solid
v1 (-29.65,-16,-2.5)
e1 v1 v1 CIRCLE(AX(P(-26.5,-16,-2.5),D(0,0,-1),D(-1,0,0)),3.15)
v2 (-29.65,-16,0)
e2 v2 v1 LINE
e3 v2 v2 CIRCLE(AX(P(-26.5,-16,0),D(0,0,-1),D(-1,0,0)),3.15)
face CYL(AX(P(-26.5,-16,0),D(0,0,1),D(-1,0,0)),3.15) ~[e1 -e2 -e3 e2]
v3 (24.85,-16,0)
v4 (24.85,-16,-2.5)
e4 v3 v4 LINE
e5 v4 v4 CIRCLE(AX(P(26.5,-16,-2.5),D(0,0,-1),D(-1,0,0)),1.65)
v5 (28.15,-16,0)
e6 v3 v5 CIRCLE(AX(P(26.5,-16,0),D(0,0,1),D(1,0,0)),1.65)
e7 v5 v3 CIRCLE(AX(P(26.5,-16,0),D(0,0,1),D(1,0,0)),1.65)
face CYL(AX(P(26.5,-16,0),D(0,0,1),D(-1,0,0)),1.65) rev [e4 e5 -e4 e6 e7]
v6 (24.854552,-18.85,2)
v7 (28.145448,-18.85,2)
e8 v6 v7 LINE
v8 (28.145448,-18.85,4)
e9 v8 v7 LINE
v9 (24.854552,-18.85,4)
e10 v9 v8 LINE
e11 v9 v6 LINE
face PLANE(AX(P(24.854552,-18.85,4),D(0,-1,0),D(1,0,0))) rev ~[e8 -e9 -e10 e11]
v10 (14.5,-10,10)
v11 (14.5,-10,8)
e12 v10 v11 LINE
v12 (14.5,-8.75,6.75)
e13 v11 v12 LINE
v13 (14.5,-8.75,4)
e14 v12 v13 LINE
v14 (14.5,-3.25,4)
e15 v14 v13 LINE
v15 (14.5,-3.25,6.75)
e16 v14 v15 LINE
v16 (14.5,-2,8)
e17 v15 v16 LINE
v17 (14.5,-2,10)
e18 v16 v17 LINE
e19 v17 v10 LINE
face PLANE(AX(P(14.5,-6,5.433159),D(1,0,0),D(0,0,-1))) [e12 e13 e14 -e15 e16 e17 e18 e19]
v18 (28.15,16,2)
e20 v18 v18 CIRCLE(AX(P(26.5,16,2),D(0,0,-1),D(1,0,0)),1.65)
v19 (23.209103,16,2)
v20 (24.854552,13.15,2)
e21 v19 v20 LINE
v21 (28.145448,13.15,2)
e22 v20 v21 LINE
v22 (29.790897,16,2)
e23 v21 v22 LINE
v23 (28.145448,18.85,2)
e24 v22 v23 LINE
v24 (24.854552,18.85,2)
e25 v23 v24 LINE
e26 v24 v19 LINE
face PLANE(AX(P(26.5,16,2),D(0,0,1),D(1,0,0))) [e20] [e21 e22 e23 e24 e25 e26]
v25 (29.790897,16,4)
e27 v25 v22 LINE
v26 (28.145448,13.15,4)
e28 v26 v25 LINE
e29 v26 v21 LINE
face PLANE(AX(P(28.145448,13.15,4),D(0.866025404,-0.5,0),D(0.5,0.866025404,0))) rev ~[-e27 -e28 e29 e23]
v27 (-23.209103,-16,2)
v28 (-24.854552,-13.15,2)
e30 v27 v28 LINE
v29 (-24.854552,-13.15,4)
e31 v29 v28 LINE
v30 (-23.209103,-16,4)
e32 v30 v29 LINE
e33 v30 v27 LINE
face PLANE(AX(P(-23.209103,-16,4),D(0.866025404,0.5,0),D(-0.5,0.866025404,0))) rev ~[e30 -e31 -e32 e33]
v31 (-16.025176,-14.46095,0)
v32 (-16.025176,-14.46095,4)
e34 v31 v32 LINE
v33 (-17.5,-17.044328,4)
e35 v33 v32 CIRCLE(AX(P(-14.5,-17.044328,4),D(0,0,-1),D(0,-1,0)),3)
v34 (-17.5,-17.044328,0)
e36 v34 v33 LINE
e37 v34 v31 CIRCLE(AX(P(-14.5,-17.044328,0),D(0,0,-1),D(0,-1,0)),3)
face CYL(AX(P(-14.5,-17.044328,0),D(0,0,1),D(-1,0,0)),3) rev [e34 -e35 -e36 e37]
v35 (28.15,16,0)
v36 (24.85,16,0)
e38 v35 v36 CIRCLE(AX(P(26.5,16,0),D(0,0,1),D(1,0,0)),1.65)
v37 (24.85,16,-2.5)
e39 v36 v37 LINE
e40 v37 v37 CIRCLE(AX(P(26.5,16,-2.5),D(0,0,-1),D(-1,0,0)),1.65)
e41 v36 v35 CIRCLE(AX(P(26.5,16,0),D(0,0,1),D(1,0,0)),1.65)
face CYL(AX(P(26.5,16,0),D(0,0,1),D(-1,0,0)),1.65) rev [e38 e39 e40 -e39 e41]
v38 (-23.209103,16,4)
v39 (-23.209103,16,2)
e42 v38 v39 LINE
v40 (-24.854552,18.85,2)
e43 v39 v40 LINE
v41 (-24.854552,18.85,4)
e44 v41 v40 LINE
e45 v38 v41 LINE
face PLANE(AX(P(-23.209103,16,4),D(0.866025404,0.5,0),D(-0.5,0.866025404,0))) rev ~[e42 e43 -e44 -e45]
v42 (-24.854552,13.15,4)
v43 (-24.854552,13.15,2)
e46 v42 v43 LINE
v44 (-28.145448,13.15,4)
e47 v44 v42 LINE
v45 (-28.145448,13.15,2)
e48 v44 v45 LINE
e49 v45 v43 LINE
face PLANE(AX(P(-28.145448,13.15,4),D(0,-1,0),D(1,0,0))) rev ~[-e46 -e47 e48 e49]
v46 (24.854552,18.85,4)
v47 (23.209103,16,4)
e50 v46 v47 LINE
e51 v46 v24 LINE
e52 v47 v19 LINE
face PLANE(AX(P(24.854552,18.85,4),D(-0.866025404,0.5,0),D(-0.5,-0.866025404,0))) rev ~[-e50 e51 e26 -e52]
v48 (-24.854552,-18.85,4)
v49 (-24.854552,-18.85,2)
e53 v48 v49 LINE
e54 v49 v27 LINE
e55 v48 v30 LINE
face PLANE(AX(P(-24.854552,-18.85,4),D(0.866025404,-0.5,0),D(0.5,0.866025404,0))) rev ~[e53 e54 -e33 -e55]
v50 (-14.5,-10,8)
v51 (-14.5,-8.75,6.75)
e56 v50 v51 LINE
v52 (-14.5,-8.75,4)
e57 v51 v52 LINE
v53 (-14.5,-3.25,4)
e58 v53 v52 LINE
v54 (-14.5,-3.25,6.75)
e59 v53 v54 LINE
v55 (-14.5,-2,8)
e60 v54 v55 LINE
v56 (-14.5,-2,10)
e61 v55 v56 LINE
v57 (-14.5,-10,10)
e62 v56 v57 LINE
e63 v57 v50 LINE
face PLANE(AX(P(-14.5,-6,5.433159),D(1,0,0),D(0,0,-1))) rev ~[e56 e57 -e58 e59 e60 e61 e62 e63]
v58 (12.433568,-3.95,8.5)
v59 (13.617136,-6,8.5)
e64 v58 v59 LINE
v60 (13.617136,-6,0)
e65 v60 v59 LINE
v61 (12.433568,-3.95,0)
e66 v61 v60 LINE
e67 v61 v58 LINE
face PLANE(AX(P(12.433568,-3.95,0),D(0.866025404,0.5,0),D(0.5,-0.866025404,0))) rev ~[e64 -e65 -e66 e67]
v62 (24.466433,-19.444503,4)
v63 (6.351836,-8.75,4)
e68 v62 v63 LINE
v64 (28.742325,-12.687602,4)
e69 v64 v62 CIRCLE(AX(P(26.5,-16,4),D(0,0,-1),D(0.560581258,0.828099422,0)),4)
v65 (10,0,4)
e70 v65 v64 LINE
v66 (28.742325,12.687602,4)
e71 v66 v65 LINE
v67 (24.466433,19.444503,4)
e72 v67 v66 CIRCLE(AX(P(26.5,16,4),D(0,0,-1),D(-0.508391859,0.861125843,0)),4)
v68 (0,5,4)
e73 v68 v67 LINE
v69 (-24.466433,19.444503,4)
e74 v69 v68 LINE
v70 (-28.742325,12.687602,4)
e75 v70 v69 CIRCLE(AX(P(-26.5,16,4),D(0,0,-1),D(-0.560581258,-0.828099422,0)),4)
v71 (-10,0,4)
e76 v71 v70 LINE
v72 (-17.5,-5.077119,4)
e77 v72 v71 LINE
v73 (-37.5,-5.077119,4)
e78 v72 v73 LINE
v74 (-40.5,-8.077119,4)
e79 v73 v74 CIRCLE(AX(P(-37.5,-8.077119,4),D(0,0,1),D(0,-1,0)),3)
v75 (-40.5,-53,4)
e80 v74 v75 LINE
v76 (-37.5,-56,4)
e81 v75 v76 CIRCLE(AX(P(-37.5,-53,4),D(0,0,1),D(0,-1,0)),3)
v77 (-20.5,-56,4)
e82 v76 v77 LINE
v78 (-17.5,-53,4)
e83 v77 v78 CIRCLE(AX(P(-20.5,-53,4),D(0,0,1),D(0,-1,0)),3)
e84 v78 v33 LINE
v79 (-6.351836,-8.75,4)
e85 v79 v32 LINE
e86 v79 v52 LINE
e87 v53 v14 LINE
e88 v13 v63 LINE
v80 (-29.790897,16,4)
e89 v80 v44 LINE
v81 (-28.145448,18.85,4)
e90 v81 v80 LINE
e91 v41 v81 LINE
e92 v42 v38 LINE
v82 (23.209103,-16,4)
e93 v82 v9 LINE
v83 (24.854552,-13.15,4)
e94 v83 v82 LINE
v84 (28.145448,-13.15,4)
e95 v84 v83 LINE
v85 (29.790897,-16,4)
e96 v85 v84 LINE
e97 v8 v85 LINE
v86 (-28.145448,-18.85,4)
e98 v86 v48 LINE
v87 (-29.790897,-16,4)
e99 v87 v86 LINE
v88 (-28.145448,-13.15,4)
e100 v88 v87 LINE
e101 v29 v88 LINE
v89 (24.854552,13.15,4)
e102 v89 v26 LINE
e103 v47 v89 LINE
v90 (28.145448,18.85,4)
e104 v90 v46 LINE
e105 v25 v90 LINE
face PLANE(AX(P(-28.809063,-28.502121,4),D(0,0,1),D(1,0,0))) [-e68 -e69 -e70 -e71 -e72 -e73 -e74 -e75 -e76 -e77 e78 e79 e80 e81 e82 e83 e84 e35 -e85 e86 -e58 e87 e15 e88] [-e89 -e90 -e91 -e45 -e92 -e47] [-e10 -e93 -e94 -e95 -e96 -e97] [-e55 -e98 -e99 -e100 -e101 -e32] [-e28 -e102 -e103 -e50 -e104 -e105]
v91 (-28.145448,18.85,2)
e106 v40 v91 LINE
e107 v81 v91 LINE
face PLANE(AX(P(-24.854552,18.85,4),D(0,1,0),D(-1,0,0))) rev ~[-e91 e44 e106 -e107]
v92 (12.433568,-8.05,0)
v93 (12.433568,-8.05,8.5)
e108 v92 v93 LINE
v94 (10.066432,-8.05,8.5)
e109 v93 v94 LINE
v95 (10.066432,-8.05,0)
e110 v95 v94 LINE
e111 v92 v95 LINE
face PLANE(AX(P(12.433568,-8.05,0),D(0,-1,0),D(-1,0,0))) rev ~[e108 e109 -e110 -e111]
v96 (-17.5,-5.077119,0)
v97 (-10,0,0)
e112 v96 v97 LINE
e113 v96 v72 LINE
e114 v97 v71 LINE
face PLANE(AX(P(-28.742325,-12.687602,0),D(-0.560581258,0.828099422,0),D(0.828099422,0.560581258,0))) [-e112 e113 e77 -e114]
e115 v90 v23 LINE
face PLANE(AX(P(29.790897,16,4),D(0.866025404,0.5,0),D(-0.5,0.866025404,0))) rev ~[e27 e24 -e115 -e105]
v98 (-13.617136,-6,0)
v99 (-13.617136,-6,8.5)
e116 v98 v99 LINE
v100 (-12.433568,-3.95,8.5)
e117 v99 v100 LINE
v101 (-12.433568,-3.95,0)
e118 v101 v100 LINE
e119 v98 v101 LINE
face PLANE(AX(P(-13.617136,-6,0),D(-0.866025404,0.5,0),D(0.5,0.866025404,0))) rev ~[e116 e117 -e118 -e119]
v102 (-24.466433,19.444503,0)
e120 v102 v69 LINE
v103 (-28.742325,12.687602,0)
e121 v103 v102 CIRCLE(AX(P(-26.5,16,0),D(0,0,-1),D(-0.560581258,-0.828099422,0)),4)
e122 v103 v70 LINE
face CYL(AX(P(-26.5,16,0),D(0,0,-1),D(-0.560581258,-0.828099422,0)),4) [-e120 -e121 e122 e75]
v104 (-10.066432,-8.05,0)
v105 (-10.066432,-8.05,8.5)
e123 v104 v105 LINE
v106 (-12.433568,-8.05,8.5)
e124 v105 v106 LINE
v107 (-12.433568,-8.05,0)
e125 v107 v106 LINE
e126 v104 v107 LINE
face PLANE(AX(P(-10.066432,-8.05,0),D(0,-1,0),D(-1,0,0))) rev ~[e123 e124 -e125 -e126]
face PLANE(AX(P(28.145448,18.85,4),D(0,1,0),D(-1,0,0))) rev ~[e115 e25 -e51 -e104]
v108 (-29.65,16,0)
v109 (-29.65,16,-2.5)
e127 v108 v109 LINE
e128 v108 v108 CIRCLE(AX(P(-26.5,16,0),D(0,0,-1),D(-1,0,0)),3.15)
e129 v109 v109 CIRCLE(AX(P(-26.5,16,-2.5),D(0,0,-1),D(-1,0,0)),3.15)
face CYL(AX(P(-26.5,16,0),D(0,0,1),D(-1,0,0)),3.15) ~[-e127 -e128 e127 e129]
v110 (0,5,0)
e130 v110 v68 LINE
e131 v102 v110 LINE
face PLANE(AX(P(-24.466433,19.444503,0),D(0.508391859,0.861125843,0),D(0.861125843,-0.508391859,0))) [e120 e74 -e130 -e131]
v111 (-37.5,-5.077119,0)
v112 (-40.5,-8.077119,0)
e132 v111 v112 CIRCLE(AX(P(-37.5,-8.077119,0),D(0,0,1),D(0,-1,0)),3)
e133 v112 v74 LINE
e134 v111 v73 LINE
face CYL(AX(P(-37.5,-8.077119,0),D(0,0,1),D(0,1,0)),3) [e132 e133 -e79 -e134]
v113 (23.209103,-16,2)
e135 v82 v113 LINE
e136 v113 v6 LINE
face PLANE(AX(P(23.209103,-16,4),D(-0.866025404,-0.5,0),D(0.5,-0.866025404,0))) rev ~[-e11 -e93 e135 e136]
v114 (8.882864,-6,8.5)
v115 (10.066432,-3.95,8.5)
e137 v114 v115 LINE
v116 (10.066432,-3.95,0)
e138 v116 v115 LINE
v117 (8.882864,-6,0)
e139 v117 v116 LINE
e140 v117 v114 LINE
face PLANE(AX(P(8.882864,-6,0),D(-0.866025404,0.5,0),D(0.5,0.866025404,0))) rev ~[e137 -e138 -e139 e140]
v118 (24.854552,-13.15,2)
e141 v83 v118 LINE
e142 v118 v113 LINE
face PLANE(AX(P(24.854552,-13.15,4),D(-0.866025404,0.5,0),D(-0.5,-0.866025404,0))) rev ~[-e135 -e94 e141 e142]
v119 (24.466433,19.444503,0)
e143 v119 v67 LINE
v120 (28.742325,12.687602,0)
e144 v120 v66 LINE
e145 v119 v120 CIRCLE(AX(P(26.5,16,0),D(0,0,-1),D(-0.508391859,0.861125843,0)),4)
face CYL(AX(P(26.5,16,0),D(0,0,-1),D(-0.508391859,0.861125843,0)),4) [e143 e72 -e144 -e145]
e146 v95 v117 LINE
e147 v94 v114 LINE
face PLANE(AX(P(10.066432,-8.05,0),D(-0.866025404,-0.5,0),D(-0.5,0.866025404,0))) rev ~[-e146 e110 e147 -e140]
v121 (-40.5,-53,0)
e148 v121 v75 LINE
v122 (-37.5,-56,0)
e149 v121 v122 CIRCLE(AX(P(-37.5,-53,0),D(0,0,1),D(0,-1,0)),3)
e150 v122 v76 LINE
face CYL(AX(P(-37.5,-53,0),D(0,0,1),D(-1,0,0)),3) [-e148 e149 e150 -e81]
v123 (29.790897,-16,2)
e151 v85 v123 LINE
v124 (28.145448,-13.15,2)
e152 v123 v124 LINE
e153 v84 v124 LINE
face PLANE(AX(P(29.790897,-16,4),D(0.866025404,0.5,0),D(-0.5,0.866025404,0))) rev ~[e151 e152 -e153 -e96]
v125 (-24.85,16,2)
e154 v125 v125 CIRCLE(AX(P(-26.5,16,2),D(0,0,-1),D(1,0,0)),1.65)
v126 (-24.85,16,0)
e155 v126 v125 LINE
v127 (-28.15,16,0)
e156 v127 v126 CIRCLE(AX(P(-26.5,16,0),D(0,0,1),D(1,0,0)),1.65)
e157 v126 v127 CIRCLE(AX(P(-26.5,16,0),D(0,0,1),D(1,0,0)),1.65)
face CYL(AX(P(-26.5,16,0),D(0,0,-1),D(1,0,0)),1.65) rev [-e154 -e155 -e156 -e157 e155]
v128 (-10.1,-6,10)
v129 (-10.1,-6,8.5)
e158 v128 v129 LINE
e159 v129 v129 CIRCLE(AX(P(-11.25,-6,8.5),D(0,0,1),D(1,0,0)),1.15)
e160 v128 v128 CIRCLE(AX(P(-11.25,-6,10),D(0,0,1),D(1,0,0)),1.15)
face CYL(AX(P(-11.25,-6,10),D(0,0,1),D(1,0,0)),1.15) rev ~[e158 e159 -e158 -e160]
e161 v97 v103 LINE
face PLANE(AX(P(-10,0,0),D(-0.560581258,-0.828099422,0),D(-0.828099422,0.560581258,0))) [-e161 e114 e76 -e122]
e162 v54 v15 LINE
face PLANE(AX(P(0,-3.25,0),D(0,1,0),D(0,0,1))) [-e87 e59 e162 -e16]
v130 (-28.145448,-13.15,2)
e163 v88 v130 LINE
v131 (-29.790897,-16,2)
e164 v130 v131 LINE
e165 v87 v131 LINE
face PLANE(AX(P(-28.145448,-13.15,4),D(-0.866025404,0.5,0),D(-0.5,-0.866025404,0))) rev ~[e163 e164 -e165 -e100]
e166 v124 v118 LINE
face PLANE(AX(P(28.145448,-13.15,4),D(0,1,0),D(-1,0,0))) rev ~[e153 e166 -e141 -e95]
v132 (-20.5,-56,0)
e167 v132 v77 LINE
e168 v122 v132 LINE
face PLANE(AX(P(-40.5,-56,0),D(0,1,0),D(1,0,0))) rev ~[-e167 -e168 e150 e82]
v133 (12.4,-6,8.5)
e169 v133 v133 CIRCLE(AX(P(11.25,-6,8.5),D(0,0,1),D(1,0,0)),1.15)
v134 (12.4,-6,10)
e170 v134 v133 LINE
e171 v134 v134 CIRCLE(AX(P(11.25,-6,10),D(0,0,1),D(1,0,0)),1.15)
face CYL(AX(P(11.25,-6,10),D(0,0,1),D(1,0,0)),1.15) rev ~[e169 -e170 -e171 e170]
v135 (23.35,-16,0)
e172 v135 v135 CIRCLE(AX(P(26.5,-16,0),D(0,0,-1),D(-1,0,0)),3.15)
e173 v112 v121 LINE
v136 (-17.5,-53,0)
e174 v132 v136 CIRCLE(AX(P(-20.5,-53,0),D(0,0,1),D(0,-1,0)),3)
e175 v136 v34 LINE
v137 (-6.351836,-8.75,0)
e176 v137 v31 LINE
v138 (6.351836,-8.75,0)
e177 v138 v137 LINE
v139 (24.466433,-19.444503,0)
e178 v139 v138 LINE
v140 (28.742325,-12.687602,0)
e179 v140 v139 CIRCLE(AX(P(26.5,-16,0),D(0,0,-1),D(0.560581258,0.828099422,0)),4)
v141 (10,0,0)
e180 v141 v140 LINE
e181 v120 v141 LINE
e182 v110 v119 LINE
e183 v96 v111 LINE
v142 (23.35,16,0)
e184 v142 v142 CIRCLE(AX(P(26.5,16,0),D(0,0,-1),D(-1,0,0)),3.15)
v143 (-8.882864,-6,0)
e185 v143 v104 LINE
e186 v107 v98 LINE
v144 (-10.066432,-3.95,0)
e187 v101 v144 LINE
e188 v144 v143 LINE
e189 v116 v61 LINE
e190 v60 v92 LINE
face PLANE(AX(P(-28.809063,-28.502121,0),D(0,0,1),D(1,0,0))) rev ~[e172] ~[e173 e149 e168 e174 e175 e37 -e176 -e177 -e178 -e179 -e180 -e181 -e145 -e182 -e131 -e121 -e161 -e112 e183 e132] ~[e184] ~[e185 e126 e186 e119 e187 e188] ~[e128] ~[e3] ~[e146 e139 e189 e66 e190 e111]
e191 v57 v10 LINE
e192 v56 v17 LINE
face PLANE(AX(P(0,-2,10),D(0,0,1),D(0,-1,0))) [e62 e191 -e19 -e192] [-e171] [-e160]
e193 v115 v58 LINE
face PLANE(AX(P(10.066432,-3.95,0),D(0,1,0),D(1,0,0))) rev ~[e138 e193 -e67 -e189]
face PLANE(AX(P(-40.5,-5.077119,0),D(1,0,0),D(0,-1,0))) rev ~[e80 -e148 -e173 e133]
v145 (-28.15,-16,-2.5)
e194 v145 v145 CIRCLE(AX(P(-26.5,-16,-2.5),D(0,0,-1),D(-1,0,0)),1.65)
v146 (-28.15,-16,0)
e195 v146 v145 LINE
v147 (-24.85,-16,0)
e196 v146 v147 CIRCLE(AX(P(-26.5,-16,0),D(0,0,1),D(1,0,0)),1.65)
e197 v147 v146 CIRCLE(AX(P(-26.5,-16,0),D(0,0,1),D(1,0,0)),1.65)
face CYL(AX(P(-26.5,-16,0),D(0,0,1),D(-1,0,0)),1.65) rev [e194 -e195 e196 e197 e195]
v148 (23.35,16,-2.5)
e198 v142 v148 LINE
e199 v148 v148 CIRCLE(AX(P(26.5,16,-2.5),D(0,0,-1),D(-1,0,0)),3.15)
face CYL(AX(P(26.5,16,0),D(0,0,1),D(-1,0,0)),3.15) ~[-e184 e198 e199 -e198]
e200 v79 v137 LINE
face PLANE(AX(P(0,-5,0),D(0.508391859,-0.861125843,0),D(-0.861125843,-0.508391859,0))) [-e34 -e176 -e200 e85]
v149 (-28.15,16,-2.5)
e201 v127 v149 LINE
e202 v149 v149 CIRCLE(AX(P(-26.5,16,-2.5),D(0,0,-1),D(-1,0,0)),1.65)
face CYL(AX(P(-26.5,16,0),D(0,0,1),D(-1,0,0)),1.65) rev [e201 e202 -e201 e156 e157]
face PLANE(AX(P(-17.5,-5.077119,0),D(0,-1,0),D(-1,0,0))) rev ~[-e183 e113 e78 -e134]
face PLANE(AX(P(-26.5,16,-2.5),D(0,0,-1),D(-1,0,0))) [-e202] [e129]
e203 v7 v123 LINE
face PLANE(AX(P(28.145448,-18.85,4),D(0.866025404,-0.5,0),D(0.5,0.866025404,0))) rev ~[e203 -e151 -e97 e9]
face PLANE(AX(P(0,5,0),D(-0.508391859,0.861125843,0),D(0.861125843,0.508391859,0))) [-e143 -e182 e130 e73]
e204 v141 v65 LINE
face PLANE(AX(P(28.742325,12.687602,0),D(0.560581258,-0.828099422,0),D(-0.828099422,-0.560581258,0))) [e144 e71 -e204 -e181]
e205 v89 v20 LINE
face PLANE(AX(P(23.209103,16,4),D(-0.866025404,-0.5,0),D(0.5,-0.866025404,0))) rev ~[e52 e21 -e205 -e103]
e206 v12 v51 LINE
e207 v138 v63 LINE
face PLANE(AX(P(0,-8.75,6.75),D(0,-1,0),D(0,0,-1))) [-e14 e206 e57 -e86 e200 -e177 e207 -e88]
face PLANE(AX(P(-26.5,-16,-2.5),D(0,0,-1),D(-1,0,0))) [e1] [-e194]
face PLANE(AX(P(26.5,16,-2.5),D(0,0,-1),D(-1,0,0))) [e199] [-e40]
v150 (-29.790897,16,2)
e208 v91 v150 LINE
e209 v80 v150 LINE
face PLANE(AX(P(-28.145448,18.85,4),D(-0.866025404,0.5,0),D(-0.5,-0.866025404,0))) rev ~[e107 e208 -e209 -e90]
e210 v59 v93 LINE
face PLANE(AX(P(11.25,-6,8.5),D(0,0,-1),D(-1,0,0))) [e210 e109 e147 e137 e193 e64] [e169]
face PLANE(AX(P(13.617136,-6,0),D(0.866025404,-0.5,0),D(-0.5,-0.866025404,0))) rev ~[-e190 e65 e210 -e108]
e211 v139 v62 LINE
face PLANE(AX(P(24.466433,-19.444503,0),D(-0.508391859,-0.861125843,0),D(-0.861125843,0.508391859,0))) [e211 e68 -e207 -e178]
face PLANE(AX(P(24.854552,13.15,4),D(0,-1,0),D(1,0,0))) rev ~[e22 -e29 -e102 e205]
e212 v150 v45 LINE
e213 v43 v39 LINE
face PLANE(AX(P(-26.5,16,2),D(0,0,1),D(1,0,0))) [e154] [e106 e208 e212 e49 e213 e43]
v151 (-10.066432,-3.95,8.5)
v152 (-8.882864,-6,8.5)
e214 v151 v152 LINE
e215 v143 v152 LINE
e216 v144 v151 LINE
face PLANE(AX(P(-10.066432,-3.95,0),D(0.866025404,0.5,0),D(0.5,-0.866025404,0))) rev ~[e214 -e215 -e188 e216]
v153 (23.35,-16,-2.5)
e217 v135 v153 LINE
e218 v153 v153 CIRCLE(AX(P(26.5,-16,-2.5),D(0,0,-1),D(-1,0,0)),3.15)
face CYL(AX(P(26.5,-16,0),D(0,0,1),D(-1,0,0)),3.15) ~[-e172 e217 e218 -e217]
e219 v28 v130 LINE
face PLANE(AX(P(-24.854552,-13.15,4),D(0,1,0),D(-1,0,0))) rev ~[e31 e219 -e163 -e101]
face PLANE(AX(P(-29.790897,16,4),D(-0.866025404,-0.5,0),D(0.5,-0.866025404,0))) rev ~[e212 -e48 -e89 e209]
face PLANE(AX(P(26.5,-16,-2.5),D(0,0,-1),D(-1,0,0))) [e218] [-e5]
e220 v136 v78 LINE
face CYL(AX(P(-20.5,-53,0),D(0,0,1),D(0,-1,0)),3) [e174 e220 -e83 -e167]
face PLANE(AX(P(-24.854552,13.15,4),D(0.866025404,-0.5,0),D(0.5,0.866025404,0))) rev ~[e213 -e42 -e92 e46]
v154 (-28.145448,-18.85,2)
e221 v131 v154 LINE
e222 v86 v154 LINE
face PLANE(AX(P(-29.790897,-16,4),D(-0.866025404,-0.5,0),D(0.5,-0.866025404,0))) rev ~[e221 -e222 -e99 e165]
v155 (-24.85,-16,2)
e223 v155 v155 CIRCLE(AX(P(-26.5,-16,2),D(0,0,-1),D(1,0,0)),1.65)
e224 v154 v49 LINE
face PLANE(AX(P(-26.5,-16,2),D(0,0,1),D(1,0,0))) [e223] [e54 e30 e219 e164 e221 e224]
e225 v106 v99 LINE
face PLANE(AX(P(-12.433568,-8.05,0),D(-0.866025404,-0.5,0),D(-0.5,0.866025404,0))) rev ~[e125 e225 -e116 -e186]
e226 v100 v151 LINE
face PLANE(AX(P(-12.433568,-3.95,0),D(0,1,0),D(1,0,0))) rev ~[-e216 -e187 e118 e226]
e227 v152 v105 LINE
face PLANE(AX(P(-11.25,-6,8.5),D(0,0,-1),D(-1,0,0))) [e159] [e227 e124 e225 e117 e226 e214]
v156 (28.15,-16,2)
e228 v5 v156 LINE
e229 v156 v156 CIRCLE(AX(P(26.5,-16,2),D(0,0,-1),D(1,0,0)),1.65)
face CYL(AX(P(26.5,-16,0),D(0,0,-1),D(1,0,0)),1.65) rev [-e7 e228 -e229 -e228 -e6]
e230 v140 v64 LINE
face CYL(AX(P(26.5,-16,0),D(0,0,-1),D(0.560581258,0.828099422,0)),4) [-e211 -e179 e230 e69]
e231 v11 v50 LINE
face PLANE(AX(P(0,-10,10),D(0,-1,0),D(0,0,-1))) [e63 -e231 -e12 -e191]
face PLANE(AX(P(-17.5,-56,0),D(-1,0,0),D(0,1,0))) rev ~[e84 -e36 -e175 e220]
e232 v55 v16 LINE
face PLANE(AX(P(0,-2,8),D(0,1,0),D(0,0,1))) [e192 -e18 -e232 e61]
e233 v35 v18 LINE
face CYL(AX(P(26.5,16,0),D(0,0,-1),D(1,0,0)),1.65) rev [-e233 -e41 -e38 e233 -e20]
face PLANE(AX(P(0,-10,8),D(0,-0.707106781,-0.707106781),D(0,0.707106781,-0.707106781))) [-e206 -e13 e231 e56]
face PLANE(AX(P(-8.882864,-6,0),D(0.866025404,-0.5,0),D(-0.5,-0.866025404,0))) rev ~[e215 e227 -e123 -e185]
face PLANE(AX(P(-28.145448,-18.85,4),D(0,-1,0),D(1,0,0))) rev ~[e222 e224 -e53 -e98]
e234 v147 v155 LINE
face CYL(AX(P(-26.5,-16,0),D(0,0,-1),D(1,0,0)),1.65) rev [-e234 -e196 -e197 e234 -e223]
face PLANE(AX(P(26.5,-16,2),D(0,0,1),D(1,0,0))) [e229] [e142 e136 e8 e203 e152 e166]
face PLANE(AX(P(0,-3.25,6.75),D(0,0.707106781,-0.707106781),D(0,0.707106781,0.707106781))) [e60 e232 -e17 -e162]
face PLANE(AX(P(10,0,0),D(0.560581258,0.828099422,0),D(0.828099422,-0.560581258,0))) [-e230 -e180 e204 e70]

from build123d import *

# Parameters (mm, degrees)
SKETCH_1_R          = 1.65
EXTRUDE_1_DEPTH     = 4
CUT_EXTRUDE_1_DEPTH = 2
SKETCH_5_R          = 3.15
SKETCH_5_R_2        = 1.65
EXTRUDE_3_DEPTH     = 2.5
EXTRUDE_2_DEPTH     = 14.5
SKETCH_4_R          = 1.15
CUT_EXTRUDE_2_DEPTH = 13.5
CUT_EXTRUDE_3_DEPTH = 8.5
EXTRUDE_4_DEPTH     = 4
FILLET_1_R          = 3


with BuildPart() as part:
    # 草图1 → 凸台-拉伸1 (new body)
    with BuildSketch(Plane.XY):
        with BuildLine():
            Line((-24.466432563, 19.444503372), (0, 5))
            Line((0, 5), (24.466432563, 19.444503372))
            ThreePointArc((24.466432563, 19.444503372), (29.880062562, 18.138966358), (28.742325032, 12.687602311))
            Line((28.742325032, 12.687602311), (10, 0))
            Line((10, 0), (28.742325032, -12.687602311))
            ThreePointArc((28.742325032, -12.687602311), (29.880062562, -18.138966358), (24.466432563, -19.444503372))
            Line((24.466432563, -19.444503372), (0, -5))
            Line((0, -5), (-24.466432563, -19.444503372))
            ThreePointArc((-24.466432563, -19.444503372), (-29.880062562, -18.138966358), (-28.742325032, -12.687602311))
            Line((-28.742325032, -12.687602311), (-10, 0))
            Line((-10, 0), (-28.742325032, 12.687602311))
            ThreePointArc((-28.742325032, 12.687602311), (-29.880062562, 18.138966358), (-24.466432563, 19.444503372))
        make_face()
        with Locations((-26.5, 16)):
            Circle(SKETCH_1_R, mode=Mode.SUBTRACT)
        with Locations((26.5, 16)):
            Circle(SKETCH_1_R, mode=Mode.SUBTRACT)
        with Locations((26.5, -16)):
            Circle(SKETCH_1_R, mode=Mode.SUBTRACT)
        with Locations((-26.5, -16)):
            Circle(SKETCH_1_R, mode=Mode.SUBTRACT)
    extrude(amount=EXTRUDE_1_DEPTH)

    # 草图2 → 切除-拉伸1 (cut)
    with BuildSketch(Plane.XY.offset(4)):
        Polygon((-24.854551733, 18.85), (-28.145448267, 18.85), (-29.790896534, 16), (-28.145448267, 13.15), (-24.854551733, 13.15), (-23.209103466, 16), align=None)
        Polygon((28.145448267, 18.85), (24.854551733, 18.85), (23.209103466, 16), (24.854551733, 13.15), (28.145448267, 13.15), (29.790896534, 16), align=None)
        Polygon((28.145448267, -13.15), (24.854551733, -13.15), (23.209103466, -16), (24.854551733, -18.85), (28.145448267, -18.85), (29.790896534, -16), align=None)
        Polygon((-24.854551733, -13.15), (-28.145448267, -13.15), (-29.790896534, -16), (-28.145448267, -18.85), (-24.854551733, -18.85), (-23.209103466, -16), align=None)
    extrude(amount=-CUT_EXTRUDE_1_DEPTH, mode=Mode.SUBTRACT)

    # 草图5 → 凸台-拉伸3 (add)
    with BuildSketch(Plane(origin=(0, 0, 0), x_dir=(-1, 0, 0), z_dir=(0, 0, -1))):
        with Locations((26.5, 16)):
            Circle(SKETCH_5_R)
        with Locations((26.5, 16)):
            Circle(SKETCH_5_R_2, mode=Mode.SUBTRACT)
        with Locations((26.5, -16)):
            Circle(SKETCH_5_R)
        with Locations((26.5, -16)):
            Circle(SKETCH_5_R_2, mode=Mode.SUBTRACT)
        with Locations((-26.5, -16)):
            Circle(SKETCH_5_R)
        with Locations((-26.5, -16)):
            Circle(SKETCH_5_R_2, mode=Mode.SUBTRACT)
        with Locations((-26.5, 16)):
            Circle(SKETCH_5_R)
        with Locations((-26.5, 16)):
            Circle(SKETCH_5_R_2, mode=Mode.SUBTRACT)
    extrude(amount=EXTRUDE_3_DEPTH)

    # 草图3 → 凸台-拉伸2 (add, symmetric)
    with BuildSketch(Plane(origin=(0, 0, 0), x_dir=(0, 0, -1), z_dir=(1, 0, 0))):
        Polygon((0, -8.75), (0, -3.25), (-6.75, -3.25), (-8, -2), (-10, -2), (-10, -10), (-8, -10), (-6.75, -8.75), align=None)
    extrude(amount=EXTRUDE_2_DEPTH, both=True)

    # 草图4 → 切除-拉伸2 (cut, through all)
    with BuildSketch(Plane.XY.offset(10)):
        with Locations((-11.25, -6)):
            Circle(SKETCH_4_R)
        with Locations((11.25, -6)):
            Circle(SKETCH_4_R)
    extrude(amount=-CUT_EXTRUDE_2_DEPTH, mode=Mode.SUBTRACT)

    # 草图6 → 切除-拉伸3 (cut)
    with BuildSketch(Plane(origin=(0, 0, 0), x_dir=(-1, 0, 0), z_dir=(0, 0, -1))):
        Polygon((-10.066431948, -3.95), (-12.433568052, -3.95), (-13.617136104, -6), (-12.433568052, -8.05), (-10.066431948, -8.05), (-8.882863896, -6), align=None)
        Polygon((12.433568052, -3.95), (10.066431948, -3.95), (8.882863896, -6), (10.066431948, -8.05), (12.433568052, -8.05), (13.617136104, -6), align=None)
    extrude(amount=-CUT_EXTRUDE_3_DEPTH, mode=Mode.SUBTRACT)

    # 草图7 → 凸台-拉伸4 (add)
    with BuildSketch(Plane(origin=(0, 0, 0), x_dir=(-1, 0, 0), z_dir=(0, 0, -1))):
        with BuildLine():
            Line((17.5, -5.07711915), (40.5, -5.07711915))
            Line((40.5, -5.07711915), (40.5, -56))
            Line((40.5, -56), (17.5, -56))
            Line((17.5, -56), (17.5, -15.331657807))
            Line((17.5, -15.331657807), (24.466432563, -19.444503372))
            ThreePointArc((24.466432563, -19.444503372), (29.880062562, -18.138966358), (28.742325032, -12.687602311))
            Line((28.742325032, -12.687602311), (17.5, -5.07711915))
        make_face()
    extrude(amount=-EXTRUDE_4_DEPTH)

    # 圆角1
    fillet_1_edges = [part.edges().sort_by_distance(p)[0] for p in [
        (-40.5, -5.07711915, 2),
        (-40.5, -56, 2),
        (-17.5, -56, 2),
        (-17.5, -15.331657807, 2),
    ]]
    fillet(fillet_1_edges, radius=FILLET_1_R)


solid = part.part
